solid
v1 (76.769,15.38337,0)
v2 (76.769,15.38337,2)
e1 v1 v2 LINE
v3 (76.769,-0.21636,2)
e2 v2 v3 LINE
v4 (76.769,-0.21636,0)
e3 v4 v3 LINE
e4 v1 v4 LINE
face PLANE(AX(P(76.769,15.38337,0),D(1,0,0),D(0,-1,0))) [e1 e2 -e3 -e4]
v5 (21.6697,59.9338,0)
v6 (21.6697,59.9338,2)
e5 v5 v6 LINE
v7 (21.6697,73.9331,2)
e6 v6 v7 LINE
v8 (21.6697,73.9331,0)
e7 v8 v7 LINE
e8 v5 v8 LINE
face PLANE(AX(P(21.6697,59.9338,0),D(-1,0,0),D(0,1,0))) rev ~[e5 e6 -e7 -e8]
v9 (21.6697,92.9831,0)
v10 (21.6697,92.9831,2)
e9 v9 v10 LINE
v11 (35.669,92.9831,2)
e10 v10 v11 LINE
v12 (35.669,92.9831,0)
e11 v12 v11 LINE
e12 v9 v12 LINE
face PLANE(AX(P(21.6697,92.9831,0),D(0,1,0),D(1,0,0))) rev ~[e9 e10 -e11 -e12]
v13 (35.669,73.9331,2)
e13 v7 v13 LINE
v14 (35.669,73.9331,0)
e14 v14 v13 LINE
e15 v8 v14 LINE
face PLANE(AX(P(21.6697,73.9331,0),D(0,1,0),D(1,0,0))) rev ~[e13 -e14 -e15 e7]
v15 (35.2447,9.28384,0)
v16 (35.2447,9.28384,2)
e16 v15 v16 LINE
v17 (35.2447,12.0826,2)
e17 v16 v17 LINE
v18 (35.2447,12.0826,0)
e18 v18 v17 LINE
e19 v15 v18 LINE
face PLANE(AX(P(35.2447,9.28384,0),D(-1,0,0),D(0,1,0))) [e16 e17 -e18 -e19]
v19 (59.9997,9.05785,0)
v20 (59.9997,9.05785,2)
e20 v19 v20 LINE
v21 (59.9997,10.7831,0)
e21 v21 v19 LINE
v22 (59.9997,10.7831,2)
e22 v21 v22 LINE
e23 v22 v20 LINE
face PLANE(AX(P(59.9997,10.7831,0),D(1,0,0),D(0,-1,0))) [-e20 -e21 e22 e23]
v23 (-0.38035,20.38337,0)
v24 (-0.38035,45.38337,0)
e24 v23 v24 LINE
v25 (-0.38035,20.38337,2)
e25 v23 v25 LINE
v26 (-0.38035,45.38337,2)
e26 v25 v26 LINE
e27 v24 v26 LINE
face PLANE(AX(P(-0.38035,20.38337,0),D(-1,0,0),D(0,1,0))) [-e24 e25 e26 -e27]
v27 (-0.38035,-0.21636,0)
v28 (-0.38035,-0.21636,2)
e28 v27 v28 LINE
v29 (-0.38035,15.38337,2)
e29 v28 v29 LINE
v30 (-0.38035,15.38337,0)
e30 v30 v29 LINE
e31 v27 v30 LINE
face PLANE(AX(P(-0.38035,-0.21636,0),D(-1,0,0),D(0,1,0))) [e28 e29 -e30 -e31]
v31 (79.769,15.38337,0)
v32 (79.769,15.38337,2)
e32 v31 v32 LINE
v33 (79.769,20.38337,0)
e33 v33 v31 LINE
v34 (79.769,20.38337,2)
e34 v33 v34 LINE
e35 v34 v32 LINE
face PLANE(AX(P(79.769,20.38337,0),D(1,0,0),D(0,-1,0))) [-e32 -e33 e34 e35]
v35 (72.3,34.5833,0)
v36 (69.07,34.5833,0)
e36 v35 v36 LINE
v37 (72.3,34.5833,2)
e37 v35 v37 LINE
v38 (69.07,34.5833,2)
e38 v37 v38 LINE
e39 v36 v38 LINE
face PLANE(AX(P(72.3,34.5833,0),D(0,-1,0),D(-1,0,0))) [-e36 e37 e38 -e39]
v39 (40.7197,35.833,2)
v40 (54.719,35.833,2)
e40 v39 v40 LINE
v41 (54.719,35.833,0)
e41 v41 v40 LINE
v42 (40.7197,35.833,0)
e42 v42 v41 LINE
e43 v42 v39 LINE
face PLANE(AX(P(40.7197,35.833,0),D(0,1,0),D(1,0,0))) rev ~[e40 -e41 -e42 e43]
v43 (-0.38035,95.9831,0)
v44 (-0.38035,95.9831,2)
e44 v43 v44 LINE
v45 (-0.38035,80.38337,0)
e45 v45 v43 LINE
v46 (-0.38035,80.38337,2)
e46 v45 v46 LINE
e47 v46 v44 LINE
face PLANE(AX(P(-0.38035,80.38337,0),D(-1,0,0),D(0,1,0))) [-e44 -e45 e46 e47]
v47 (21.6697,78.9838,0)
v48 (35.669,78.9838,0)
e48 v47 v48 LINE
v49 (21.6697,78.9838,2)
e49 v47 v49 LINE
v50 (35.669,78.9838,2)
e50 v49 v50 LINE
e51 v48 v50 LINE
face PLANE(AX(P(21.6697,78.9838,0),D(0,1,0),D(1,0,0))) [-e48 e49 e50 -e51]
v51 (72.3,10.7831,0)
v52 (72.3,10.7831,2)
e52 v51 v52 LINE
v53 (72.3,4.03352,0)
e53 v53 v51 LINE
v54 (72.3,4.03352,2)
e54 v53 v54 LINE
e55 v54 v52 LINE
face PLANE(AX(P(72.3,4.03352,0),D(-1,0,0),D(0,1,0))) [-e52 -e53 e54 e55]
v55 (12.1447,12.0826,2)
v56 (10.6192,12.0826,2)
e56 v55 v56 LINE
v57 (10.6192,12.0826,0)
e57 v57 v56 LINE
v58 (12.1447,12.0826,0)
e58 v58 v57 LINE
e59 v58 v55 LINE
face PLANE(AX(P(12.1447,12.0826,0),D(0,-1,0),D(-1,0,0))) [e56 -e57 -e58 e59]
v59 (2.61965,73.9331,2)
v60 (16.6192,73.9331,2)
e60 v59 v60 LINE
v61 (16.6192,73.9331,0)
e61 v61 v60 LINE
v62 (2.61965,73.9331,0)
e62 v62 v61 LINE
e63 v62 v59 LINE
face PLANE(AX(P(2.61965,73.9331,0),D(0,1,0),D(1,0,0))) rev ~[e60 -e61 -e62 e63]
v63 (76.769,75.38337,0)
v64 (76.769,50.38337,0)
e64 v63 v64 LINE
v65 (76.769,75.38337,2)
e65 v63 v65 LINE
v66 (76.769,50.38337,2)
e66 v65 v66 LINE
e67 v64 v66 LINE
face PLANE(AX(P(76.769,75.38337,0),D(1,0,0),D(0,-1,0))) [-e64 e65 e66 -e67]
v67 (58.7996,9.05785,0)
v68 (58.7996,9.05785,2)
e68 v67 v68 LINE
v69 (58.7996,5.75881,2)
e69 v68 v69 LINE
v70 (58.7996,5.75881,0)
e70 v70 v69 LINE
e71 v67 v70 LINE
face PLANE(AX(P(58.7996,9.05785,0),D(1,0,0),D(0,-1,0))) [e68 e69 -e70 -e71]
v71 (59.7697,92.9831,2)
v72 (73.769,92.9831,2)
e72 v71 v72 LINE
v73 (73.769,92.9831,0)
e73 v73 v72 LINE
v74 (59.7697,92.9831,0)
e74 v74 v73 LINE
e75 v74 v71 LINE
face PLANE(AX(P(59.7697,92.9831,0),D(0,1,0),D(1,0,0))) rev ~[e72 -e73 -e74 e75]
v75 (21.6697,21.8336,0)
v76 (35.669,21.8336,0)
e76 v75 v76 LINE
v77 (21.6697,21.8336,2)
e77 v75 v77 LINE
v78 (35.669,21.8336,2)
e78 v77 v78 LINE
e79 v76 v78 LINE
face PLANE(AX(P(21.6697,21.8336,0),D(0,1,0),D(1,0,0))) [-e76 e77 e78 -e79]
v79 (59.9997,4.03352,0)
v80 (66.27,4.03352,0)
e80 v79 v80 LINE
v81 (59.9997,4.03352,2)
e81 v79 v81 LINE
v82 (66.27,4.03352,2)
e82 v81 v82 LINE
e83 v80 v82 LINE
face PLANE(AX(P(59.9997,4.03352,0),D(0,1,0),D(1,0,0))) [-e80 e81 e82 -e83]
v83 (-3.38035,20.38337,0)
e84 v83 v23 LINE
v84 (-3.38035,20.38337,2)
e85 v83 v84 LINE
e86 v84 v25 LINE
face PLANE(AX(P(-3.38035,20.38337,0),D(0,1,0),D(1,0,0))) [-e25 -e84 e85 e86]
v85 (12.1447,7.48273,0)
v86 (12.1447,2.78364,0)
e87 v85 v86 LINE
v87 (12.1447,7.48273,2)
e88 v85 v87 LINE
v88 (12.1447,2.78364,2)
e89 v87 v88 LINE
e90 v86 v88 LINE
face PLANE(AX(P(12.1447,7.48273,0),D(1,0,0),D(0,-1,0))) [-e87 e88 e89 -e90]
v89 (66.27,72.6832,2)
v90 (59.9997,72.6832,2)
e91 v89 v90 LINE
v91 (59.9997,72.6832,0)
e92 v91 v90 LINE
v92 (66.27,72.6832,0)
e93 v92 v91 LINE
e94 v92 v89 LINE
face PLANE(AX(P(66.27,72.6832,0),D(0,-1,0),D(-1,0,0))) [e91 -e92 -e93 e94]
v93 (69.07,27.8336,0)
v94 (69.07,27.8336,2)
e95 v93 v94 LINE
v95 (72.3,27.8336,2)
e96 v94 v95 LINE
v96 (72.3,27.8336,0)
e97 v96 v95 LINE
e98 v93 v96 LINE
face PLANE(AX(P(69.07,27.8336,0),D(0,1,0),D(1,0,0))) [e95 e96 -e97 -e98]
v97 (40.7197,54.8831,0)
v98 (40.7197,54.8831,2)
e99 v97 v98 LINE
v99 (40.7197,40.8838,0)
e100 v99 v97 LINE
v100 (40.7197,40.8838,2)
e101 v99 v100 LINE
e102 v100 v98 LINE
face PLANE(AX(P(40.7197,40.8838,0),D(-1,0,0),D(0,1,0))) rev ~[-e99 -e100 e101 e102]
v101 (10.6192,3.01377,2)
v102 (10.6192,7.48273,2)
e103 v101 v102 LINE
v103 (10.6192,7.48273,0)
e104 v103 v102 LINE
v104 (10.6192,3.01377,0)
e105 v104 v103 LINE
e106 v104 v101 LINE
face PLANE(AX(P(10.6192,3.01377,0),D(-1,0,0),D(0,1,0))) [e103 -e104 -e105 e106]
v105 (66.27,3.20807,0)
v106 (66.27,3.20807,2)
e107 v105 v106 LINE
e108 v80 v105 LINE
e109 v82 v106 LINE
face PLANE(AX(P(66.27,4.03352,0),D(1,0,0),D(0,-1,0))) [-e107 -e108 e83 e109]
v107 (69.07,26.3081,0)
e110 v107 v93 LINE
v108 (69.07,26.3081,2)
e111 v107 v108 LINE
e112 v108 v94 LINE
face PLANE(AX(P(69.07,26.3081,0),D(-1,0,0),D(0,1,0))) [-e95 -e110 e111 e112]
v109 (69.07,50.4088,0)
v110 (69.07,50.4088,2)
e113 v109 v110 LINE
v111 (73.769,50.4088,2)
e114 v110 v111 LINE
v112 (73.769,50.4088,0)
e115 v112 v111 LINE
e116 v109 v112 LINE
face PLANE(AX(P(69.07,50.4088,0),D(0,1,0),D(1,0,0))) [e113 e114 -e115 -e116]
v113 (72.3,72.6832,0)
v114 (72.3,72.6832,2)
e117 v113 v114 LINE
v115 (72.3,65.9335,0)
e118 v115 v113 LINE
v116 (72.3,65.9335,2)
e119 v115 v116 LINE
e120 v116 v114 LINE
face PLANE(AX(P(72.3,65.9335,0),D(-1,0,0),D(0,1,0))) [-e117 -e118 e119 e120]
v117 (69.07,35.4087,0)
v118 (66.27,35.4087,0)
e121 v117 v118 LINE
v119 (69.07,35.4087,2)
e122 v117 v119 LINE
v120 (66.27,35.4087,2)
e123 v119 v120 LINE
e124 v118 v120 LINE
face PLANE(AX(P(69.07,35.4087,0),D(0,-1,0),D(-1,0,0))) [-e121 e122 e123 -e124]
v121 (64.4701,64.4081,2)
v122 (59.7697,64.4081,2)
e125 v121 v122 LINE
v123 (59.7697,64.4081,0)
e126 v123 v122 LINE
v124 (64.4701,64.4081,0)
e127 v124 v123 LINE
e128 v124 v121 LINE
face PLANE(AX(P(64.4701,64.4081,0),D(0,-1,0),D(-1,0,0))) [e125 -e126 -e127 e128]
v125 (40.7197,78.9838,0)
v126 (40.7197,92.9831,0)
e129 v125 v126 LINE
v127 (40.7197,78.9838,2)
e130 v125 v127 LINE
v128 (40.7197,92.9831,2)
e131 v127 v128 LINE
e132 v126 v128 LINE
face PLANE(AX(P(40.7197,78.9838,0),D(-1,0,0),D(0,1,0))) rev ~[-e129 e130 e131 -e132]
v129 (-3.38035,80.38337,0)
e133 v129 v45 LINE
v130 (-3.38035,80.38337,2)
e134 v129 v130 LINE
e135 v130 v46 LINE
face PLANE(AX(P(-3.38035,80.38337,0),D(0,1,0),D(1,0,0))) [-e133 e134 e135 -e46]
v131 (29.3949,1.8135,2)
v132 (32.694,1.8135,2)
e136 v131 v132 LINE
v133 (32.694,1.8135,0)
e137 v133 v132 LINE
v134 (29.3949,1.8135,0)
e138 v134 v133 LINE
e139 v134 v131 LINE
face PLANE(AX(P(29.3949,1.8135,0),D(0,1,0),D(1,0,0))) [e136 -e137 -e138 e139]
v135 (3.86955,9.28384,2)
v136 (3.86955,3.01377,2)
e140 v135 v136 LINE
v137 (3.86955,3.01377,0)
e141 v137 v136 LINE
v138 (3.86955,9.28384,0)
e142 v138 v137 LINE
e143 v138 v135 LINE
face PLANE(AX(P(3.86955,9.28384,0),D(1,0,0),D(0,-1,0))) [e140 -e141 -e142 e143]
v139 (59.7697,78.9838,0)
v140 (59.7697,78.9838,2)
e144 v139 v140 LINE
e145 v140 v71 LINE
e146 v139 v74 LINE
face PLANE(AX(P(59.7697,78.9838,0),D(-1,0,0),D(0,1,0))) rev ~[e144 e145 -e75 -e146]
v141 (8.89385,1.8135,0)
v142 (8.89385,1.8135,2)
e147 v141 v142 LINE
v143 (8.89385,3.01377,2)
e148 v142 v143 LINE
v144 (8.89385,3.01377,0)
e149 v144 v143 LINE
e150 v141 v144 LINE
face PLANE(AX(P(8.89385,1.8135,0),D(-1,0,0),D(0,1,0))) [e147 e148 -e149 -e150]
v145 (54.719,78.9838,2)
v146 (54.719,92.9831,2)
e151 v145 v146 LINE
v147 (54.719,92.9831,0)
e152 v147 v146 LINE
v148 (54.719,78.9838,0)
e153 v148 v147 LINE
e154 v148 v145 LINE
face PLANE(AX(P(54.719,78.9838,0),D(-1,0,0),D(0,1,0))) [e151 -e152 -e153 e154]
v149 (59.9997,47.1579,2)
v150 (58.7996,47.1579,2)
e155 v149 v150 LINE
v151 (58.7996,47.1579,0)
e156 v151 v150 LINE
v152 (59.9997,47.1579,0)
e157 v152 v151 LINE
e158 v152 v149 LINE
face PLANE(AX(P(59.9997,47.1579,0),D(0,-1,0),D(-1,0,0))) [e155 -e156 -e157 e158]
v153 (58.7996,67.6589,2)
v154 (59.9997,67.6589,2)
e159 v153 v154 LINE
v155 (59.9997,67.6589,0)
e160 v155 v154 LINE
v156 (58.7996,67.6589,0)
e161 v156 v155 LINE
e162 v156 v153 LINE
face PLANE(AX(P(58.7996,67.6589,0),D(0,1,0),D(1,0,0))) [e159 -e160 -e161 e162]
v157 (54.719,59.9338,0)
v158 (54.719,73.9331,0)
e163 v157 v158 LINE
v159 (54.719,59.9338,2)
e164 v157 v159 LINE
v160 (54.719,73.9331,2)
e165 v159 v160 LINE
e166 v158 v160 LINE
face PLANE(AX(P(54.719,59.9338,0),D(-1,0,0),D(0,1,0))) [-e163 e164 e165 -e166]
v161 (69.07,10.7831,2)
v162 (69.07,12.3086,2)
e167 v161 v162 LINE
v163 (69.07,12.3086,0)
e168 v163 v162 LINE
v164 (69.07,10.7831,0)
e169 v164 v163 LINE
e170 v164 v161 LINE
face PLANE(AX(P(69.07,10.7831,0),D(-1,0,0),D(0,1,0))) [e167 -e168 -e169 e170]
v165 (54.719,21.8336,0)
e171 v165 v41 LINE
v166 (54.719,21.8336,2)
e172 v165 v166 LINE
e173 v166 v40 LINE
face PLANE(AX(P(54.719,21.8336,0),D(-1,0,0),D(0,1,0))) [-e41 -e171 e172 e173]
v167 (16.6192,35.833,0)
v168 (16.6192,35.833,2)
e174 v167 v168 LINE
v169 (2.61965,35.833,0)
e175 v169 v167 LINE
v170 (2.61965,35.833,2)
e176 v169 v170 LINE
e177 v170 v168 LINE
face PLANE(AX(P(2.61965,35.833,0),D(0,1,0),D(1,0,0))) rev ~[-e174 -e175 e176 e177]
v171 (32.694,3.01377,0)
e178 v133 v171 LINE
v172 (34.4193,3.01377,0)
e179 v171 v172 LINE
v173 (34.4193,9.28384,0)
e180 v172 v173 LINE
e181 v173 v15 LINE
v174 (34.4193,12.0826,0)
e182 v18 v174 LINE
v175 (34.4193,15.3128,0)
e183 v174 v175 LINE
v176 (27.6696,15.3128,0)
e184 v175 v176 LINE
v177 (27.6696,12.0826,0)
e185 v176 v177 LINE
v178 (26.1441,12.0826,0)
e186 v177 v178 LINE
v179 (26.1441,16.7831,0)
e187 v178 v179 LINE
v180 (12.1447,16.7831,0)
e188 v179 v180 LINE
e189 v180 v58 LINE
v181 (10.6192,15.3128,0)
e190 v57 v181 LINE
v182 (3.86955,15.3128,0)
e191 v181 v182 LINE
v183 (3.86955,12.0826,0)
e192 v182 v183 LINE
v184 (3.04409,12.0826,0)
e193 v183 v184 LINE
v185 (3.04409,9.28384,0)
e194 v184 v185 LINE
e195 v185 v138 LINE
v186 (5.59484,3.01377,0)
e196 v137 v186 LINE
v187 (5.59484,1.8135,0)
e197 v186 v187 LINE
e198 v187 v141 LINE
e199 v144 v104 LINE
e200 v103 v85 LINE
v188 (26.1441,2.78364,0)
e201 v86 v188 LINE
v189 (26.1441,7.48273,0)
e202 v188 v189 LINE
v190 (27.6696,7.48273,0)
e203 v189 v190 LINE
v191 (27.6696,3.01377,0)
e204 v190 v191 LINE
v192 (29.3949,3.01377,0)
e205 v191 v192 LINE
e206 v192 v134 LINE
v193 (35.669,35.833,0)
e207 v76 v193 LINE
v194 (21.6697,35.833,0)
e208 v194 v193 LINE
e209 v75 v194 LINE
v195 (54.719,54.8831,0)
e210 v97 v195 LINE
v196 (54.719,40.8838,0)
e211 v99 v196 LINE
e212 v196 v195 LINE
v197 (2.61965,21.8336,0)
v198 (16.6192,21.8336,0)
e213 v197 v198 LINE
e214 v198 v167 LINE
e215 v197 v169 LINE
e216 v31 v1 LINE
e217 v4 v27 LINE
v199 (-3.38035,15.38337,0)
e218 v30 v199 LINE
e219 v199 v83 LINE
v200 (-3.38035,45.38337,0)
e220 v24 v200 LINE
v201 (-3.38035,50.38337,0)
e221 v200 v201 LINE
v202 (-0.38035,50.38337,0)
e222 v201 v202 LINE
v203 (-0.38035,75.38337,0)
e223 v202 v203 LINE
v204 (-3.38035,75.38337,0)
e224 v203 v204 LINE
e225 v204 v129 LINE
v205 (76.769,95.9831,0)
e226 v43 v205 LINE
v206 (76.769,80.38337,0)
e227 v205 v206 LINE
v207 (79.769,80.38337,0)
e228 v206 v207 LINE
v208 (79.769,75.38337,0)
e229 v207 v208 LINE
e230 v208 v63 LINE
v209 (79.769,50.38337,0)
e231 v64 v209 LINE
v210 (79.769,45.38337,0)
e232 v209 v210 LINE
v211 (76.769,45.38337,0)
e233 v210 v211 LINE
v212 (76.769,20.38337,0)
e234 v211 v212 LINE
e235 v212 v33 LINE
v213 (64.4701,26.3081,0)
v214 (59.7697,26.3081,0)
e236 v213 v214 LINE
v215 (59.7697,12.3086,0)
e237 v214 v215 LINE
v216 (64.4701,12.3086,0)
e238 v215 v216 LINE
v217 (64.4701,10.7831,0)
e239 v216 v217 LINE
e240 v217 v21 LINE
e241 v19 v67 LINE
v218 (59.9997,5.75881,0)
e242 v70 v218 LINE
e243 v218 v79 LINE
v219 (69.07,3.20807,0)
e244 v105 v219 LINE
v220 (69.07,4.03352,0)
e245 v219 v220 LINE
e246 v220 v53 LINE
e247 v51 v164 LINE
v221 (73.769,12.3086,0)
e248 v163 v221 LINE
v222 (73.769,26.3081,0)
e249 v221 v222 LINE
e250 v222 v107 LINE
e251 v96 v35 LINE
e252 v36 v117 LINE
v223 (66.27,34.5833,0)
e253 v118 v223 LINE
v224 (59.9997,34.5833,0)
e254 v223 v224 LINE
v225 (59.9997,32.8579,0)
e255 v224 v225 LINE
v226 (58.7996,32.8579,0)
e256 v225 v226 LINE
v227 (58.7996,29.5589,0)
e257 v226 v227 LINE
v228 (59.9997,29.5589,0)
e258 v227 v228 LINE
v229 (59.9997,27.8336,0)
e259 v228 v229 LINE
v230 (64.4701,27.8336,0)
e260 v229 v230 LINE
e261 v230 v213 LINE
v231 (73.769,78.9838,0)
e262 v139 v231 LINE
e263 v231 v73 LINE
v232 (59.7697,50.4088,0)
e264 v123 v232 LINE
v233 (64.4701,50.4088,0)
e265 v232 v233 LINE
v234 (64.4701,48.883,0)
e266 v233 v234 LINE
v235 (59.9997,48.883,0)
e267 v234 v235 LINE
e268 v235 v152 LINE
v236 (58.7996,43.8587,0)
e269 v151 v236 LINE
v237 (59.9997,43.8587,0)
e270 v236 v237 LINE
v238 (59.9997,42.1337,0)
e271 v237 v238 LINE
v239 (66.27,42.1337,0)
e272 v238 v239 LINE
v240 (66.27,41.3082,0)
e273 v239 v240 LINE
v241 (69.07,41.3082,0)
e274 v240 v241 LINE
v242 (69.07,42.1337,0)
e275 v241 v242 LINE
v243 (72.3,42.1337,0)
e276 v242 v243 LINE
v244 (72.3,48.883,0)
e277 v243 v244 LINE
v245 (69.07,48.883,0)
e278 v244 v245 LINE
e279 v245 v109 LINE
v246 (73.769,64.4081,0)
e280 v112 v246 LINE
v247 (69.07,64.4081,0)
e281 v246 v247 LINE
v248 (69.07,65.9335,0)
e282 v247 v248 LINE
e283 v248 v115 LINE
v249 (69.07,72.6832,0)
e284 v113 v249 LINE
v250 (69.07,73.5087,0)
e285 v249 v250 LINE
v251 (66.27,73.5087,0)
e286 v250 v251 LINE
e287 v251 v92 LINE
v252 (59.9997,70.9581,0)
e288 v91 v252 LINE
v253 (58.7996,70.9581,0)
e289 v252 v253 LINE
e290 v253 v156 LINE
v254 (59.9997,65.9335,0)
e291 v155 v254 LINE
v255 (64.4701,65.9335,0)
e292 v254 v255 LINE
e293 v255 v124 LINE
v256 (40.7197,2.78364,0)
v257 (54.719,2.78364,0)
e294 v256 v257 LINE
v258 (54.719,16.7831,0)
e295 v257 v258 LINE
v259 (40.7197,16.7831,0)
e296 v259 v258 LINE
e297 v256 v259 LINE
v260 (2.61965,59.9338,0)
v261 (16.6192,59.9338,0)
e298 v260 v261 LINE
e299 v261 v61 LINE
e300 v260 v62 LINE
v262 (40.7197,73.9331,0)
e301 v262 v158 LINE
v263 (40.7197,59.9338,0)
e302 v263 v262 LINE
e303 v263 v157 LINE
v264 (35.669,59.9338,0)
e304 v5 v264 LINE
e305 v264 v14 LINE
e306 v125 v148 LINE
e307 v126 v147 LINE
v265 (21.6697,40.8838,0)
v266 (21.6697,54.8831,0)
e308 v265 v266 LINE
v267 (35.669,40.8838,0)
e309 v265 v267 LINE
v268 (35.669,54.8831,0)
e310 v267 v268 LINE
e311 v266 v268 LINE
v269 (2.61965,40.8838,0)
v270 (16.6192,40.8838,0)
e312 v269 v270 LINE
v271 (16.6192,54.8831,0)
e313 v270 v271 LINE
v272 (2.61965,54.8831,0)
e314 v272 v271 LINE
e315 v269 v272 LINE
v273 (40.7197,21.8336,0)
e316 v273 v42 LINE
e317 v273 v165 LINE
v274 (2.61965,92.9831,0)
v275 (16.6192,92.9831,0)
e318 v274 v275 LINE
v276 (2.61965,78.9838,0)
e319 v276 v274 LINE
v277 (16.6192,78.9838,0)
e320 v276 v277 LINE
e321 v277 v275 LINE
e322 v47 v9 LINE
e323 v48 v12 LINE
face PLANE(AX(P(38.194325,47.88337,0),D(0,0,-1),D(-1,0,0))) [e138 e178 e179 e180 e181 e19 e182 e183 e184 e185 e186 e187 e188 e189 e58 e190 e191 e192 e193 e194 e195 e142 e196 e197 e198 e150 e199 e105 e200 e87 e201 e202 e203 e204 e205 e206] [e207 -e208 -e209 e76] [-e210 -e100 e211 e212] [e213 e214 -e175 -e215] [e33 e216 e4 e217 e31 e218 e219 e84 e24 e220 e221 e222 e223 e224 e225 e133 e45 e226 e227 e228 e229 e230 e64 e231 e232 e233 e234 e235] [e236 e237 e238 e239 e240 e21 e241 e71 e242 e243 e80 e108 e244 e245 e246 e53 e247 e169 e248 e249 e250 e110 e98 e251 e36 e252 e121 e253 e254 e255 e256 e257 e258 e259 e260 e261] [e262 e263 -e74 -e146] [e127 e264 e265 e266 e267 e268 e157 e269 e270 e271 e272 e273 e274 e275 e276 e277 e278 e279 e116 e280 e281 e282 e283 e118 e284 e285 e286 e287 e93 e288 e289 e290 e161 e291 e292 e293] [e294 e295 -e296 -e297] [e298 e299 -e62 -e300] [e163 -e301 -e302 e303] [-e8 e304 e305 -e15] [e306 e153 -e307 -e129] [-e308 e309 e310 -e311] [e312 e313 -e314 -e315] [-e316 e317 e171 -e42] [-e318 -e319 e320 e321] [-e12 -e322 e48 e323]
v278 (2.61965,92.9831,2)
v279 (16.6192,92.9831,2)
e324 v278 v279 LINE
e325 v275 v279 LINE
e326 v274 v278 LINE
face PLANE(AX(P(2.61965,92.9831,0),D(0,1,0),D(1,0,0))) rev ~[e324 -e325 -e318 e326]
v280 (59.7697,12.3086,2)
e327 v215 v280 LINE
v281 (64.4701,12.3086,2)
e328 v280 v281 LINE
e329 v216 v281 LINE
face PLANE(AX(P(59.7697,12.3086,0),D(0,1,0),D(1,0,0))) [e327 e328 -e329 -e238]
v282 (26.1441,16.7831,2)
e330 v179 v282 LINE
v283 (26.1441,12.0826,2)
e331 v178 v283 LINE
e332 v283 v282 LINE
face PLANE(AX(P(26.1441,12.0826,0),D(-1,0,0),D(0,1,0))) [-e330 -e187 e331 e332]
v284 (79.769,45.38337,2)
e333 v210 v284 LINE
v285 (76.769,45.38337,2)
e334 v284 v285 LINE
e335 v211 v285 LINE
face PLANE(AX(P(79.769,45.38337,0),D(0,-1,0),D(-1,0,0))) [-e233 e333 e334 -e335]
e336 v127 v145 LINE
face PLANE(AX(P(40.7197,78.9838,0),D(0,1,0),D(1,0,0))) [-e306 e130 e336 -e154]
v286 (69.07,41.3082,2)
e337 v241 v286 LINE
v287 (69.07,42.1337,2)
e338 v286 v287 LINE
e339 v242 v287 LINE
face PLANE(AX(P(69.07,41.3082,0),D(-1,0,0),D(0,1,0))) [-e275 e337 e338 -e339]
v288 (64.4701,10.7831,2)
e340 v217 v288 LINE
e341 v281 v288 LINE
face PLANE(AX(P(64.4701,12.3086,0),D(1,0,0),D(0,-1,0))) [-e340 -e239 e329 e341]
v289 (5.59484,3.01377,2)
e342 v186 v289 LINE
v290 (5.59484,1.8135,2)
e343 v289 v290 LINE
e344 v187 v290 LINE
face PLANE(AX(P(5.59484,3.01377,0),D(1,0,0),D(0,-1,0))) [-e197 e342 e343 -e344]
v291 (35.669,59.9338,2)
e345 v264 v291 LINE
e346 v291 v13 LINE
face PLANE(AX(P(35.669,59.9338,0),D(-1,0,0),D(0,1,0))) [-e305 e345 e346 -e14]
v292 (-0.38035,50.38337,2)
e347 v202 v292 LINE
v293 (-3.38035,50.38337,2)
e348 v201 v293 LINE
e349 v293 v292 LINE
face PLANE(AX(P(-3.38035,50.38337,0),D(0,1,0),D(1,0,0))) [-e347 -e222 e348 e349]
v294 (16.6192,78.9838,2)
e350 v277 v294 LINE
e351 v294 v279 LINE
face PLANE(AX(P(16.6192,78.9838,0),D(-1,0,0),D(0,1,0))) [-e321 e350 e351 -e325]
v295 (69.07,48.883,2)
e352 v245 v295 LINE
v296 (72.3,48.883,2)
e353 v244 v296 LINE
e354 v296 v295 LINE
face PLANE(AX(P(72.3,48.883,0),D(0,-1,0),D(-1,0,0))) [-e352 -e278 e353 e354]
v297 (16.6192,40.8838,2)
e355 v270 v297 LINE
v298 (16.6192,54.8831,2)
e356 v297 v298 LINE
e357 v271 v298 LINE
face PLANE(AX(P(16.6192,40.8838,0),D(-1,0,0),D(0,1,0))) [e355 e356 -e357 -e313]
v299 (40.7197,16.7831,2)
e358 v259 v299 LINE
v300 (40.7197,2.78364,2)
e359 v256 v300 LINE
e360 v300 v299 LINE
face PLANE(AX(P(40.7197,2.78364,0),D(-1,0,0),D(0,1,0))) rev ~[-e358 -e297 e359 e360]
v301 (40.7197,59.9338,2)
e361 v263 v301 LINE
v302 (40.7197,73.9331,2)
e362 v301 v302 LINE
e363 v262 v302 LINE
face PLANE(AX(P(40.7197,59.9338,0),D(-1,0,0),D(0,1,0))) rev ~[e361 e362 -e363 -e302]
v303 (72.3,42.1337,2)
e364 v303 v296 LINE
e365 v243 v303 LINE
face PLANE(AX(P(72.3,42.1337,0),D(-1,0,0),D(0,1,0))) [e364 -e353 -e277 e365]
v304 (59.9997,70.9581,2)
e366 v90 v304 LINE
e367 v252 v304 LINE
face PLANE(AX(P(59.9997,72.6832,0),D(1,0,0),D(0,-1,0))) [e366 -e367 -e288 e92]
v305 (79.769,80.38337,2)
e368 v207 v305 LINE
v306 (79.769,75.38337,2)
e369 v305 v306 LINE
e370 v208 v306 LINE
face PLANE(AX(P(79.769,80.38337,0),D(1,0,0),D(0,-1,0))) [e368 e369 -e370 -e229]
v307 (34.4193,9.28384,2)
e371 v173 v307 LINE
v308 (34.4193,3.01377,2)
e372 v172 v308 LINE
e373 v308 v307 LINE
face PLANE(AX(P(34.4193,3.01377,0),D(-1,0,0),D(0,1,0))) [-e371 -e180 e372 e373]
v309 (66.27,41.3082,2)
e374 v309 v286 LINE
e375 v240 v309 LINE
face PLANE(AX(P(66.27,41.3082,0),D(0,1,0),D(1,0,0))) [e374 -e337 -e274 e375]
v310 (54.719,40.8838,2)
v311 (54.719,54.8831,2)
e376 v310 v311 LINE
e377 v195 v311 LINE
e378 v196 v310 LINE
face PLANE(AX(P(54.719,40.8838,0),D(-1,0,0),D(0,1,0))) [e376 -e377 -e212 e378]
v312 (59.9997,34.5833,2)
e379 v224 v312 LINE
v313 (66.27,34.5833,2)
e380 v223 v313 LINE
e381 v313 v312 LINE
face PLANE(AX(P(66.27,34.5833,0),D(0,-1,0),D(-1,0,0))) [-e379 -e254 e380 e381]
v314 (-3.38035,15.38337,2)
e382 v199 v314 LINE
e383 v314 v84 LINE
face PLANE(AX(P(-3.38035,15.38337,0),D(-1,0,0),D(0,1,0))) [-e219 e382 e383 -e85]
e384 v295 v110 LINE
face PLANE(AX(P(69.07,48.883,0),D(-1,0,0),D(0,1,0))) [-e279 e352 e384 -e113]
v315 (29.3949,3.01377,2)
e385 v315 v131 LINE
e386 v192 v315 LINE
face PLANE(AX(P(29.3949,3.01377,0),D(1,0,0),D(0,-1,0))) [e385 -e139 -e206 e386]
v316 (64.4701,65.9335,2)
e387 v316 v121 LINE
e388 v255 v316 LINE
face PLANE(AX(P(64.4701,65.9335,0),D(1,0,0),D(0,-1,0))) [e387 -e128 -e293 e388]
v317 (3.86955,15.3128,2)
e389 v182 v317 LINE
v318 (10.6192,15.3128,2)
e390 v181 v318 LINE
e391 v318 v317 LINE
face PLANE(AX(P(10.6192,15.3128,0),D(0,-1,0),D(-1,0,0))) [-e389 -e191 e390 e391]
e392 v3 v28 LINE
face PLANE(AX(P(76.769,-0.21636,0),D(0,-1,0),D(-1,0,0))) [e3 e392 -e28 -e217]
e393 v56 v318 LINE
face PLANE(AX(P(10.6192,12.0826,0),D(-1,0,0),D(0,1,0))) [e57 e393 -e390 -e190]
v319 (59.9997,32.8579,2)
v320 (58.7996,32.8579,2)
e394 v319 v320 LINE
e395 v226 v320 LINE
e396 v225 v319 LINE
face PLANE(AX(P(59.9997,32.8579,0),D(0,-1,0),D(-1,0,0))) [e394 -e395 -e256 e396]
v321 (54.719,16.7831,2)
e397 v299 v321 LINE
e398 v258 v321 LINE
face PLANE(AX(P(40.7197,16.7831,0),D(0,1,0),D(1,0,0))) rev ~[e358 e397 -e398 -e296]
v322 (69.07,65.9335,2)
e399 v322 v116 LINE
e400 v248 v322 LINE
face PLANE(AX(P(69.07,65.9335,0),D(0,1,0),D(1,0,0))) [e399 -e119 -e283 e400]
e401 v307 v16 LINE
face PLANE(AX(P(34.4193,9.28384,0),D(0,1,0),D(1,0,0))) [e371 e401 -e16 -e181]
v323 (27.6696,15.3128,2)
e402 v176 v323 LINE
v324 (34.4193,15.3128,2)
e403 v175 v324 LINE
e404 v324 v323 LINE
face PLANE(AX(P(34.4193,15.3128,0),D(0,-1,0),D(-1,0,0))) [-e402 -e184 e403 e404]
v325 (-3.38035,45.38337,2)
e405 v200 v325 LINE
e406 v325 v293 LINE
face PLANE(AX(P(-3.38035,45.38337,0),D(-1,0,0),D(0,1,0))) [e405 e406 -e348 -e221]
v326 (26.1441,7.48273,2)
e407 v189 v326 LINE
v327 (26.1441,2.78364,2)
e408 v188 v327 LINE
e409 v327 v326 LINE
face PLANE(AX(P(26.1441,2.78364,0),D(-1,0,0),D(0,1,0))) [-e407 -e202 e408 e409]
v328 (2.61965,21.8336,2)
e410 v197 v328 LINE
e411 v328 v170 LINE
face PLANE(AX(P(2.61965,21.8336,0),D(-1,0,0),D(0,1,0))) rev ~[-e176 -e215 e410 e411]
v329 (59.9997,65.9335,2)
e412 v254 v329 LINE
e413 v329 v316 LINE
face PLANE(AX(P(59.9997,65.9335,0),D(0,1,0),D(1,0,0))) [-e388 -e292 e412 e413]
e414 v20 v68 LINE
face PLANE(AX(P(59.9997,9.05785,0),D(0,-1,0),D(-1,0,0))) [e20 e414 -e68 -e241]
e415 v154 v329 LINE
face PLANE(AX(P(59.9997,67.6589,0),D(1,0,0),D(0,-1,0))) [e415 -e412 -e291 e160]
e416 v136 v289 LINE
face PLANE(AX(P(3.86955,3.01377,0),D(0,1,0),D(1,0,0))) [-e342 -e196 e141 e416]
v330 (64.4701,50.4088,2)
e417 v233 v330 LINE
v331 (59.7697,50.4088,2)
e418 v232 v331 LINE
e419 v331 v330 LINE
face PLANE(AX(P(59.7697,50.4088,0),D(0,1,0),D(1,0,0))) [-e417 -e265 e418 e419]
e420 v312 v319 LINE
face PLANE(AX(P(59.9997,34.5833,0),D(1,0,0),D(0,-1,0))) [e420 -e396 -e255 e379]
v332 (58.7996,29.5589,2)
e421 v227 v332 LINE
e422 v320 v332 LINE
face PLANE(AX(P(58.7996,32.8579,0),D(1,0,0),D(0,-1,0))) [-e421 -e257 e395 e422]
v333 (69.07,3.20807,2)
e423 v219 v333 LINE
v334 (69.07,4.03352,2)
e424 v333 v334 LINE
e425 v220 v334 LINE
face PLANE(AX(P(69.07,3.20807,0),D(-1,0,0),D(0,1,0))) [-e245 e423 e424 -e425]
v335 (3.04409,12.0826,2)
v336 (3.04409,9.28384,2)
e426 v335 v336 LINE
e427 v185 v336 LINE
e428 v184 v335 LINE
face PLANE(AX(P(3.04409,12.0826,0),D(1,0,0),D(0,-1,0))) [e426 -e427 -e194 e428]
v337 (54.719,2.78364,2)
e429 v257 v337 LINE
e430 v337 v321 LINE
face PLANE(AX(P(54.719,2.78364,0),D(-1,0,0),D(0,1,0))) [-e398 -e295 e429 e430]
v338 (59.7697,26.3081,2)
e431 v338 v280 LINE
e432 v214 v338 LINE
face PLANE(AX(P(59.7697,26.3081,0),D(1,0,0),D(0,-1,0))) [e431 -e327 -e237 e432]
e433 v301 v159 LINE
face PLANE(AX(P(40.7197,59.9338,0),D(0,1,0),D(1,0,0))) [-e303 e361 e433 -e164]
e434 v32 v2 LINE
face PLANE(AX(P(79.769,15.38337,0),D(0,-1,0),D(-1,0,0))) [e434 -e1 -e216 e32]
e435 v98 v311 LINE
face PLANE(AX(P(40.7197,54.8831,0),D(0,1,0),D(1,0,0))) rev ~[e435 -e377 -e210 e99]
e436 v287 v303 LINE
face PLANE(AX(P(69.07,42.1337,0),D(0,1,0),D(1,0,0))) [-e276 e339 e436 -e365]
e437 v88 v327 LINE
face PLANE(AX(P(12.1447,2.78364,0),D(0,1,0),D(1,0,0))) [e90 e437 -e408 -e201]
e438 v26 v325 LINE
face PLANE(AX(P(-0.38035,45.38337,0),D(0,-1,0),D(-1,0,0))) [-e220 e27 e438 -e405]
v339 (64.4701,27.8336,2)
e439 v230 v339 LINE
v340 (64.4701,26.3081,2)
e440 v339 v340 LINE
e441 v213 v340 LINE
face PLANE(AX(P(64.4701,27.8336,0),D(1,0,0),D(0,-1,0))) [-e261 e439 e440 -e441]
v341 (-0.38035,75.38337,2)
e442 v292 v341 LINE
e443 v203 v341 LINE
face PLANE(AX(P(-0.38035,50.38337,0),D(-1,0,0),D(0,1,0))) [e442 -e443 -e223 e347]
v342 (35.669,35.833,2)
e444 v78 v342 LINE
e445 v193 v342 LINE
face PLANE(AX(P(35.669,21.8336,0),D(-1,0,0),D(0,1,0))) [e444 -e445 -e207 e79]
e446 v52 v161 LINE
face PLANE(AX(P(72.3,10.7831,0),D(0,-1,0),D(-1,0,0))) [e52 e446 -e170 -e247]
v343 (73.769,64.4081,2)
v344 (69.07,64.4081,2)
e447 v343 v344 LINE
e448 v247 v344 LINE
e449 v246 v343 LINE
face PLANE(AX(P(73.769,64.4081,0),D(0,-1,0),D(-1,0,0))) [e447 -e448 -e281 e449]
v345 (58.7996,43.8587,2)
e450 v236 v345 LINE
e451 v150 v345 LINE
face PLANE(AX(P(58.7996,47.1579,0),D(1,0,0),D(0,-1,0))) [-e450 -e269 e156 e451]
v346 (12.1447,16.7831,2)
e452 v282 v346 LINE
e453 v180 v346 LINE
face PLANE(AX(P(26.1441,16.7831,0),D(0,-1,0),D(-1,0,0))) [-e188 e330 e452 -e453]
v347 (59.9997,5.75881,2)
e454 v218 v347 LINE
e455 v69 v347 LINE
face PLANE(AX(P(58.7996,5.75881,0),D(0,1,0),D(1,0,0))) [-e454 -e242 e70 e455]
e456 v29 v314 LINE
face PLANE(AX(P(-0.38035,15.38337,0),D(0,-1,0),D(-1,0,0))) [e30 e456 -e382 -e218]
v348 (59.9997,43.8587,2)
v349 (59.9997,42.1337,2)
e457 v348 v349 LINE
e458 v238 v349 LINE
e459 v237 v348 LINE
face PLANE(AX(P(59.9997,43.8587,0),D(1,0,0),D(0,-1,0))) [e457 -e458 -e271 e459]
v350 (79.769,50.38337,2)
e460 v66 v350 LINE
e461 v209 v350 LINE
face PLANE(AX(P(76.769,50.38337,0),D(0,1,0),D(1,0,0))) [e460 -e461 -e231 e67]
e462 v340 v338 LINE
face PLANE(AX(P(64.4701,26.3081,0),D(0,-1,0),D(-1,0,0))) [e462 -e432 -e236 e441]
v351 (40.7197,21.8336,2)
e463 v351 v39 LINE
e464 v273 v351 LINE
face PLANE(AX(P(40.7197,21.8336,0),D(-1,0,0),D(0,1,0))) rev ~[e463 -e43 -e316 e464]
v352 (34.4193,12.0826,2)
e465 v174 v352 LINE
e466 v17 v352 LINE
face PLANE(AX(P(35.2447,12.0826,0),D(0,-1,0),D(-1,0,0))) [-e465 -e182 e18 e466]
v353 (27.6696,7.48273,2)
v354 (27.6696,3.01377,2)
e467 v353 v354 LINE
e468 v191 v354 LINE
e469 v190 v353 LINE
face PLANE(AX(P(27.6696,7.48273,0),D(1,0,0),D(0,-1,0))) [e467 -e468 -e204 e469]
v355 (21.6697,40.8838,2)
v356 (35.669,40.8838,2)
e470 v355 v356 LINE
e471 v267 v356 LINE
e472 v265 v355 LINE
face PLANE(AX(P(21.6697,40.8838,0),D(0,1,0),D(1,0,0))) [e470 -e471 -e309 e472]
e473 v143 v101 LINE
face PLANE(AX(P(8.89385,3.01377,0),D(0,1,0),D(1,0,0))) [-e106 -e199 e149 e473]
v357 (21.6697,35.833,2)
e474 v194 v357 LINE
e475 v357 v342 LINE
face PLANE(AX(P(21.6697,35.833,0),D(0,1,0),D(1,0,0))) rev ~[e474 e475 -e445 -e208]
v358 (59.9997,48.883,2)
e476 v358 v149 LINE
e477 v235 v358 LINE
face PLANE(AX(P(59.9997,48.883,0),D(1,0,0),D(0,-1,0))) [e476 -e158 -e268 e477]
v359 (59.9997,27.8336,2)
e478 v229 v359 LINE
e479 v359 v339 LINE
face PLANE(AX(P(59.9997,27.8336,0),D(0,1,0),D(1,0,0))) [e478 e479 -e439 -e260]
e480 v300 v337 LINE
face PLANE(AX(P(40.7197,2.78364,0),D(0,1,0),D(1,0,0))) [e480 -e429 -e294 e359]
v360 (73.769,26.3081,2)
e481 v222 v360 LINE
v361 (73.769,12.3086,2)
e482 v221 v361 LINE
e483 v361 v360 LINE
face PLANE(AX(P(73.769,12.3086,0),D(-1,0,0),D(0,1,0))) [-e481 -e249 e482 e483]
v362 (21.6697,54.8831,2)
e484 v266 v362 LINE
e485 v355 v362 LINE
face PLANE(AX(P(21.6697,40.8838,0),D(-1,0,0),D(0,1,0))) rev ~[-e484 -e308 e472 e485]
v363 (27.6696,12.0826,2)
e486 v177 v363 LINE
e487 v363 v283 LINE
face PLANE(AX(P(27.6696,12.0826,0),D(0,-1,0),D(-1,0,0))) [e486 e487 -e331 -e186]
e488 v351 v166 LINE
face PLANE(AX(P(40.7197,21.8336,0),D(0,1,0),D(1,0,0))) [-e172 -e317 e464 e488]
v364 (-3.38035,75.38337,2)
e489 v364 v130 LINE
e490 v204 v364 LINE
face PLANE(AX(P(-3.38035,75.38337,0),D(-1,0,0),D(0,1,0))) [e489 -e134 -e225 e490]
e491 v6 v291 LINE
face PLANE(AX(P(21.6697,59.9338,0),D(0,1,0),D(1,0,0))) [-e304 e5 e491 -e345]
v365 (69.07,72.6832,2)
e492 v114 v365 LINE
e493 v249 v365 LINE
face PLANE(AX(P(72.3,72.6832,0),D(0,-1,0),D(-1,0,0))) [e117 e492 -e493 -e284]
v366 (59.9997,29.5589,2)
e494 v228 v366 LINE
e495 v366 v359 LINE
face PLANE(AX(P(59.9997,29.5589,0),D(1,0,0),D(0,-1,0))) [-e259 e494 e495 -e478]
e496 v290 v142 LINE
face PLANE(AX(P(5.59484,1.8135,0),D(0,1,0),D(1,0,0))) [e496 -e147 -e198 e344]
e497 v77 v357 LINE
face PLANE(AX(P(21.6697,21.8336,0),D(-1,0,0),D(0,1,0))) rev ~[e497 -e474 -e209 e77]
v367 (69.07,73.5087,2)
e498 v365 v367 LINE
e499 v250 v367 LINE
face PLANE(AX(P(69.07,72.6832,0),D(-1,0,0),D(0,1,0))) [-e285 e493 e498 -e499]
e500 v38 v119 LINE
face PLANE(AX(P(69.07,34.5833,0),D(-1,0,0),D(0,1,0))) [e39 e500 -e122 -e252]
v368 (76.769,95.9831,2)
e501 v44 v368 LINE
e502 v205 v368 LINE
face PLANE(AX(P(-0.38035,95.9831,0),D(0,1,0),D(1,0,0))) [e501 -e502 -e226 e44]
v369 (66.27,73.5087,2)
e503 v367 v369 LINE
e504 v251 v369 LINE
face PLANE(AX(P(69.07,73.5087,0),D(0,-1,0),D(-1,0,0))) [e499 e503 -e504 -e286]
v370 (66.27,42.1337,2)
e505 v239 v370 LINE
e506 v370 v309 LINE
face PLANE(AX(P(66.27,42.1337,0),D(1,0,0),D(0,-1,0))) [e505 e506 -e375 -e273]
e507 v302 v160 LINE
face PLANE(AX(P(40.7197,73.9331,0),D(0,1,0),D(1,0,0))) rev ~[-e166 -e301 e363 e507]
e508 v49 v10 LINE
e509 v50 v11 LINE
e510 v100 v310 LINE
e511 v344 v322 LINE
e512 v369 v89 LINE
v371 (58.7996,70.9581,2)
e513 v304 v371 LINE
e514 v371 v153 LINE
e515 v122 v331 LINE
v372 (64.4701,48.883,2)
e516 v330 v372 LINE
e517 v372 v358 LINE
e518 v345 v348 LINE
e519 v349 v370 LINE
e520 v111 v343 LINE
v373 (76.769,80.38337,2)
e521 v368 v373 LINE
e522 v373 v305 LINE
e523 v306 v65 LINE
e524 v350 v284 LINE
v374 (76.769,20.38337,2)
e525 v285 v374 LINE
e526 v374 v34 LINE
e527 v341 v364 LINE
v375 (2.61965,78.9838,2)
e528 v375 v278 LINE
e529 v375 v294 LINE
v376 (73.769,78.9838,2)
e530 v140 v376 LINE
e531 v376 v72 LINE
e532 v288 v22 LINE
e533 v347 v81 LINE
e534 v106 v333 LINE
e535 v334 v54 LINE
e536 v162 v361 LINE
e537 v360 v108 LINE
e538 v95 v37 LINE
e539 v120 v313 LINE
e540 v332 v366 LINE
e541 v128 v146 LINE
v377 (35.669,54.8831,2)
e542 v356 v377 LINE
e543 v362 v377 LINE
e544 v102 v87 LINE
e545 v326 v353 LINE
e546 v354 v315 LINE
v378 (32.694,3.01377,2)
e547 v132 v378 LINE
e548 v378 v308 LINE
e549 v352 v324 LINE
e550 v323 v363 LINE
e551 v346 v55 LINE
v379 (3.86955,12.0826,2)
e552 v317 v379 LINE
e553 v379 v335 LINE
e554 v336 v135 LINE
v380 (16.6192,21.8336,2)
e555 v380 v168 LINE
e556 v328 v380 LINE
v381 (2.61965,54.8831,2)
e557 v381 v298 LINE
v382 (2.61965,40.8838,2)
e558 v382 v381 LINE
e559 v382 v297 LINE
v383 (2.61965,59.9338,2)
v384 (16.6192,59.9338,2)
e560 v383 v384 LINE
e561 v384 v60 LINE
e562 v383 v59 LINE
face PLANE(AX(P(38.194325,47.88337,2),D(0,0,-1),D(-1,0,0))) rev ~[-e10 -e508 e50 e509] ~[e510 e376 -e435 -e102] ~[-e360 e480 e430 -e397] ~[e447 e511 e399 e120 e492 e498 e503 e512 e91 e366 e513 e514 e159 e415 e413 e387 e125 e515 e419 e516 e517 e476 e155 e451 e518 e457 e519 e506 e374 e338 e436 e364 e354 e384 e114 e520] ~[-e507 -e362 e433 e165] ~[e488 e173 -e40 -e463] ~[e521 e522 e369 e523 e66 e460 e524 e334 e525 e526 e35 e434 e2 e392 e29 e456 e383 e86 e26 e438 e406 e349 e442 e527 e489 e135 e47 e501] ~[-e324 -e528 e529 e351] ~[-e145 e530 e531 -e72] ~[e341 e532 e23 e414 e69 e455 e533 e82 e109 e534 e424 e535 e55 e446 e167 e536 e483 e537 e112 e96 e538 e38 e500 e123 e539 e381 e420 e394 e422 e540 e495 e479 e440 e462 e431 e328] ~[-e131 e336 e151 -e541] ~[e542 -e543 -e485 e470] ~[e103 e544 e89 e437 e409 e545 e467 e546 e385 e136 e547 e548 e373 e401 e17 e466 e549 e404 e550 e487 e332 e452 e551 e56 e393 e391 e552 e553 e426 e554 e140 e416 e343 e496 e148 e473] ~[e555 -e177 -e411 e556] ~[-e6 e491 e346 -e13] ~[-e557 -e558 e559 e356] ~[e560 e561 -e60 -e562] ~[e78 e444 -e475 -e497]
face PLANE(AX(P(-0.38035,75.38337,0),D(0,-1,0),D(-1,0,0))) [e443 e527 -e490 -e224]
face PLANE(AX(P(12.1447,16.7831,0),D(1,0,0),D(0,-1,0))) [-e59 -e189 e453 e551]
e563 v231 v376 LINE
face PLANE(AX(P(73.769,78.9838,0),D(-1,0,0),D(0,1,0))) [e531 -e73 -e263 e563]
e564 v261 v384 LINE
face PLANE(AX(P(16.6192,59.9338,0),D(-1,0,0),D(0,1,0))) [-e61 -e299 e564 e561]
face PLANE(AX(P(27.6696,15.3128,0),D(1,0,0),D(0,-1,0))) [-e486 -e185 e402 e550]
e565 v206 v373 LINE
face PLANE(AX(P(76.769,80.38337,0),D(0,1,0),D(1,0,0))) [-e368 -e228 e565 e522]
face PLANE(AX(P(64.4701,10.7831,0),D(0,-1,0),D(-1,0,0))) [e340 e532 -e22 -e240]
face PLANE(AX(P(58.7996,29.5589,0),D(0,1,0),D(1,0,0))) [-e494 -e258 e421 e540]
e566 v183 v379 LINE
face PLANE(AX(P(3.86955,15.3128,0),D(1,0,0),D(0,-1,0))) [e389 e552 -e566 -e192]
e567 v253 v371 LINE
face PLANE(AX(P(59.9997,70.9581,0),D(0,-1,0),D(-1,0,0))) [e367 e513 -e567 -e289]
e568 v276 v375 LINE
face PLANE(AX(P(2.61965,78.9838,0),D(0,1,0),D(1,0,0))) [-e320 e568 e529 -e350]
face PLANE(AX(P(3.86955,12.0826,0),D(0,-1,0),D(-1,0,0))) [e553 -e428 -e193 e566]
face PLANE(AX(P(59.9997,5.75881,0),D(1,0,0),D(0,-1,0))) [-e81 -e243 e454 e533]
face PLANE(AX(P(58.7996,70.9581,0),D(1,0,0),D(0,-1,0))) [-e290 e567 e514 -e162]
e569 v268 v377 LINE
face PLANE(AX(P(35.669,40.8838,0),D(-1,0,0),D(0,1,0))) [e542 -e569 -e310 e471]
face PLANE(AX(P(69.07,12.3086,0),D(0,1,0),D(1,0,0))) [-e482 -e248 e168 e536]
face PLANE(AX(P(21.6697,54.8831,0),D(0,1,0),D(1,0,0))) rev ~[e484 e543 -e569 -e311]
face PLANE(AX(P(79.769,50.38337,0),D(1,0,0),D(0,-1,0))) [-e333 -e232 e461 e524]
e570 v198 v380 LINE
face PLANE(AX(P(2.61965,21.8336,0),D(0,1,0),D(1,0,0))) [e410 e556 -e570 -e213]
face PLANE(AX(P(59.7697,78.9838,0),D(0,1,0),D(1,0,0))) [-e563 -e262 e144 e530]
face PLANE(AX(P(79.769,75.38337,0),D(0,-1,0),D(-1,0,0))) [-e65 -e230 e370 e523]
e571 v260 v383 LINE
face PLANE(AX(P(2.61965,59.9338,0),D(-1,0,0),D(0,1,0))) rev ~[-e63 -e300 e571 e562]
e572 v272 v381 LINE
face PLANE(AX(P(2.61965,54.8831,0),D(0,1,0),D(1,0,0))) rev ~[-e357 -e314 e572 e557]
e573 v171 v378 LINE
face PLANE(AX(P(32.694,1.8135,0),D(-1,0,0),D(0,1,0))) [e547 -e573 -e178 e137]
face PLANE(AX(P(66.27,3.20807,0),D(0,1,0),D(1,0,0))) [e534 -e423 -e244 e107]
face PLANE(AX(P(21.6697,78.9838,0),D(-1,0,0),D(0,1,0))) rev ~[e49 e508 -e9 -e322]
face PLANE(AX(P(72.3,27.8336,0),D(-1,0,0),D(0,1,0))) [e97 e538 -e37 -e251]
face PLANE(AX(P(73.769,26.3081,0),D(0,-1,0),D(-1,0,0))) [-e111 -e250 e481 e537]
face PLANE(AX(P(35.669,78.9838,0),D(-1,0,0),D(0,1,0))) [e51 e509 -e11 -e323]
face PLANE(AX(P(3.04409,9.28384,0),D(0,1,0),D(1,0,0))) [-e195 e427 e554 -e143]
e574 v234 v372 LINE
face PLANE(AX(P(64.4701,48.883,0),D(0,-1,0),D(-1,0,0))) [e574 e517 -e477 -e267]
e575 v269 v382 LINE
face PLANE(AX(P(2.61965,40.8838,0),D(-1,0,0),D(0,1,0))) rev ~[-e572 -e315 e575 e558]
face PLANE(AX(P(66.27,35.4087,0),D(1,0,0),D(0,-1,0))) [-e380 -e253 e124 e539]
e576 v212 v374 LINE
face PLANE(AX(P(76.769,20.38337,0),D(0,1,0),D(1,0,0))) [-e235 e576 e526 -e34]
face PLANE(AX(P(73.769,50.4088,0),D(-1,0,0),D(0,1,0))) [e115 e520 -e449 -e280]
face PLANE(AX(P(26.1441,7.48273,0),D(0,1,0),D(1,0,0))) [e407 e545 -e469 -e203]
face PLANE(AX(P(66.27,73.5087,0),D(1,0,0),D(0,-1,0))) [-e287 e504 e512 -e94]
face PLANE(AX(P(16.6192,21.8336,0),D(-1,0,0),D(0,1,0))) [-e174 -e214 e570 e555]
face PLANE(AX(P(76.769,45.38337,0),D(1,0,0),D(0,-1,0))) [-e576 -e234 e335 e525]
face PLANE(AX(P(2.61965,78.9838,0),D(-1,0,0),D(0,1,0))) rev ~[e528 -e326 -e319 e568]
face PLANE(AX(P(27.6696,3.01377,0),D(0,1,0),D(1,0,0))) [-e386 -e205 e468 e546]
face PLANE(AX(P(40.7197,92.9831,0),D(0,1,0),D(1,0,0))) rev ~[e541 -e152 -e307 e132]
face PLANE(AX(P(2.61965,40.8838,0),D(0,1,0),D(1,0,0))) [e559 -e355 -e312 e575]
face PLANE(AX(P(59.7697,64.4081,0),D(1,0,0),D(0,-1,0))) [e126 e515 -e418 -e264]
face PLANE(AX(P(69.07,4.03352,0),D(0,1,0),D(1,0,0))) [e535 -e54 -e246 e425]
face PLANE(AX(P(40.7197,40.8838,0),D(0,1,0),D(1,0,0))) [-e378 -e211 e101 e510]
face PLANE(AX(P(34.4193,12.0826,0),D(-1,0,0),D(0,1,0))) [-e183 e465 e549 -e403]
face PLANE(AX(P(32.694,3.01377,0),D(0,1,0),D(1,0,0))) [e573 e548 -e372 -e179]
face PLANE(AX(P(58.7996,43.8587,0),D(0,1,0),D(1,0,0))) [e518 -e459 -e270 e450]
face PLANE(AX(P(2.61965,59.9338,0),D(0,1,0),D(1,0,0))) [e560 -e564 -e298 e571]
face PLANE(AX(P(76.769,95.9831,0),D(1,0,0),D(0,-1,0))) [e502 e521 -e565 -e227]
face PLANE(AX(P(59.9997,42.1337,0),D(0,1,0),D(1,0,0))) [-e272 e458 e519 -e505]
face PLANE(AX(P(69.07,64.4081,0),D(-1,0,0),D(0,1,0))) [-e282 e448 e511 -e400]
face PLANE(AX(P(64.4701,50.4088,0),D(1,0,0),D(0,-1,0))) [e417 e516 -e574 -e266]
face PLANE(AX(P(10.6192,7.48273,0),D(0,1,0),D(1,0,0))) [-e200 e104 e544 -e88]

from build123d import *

# Parameters (mm, degrees)
MODEL_W         = 13.9993
MODEL_H         = 13.99946
MODEL_W_2       = 13.99955
MODEL_H_2       = 13.9994
MODEL_H_3       = 13.9993
EXTRUDE_1_DEPTH = 2


with BuildPart() as part:
    # Model → 凸台-拉伸1 (new body)
    with BuildSketch(Plane.XY):
        Polygon((-0.38035, 95.9831), (76.769, 95.9831), (76.769, 80.38337), (79.769, 80.38337), (79.769, 75.38337), (76.769, 75.38337), (76.769, 50.38337), (79.769, 50.38337), (79.769, 45.38337), (76.769, 45.38337), (76.769, 20.38337), (79.769, 20.38337), (79.769, 15.38337), (76.769, 15.38337), (76.769, -0.21636), (-0.38035, -0.21636), (-0.38035, 15.38337), (-3.38035, 15.38337), (-3.38035, 20.38337), (-0.38035, 20.38337), (-0.38035, 45.38337), (-3.38035, 45.38337), (-3.38035, 50.38337), (-0.38035, 50.38337), (-0.38035, 75.38337), (-3.38035, 75.38337), (-3.38035, 80.38337), (-0.38035, 80.38337), align=None)
        Polygon((12.1447, 16.7831), (12.1447, 12.0826), (10.6192, 12.0826), (10.6192, 15.3128), (3.86955, 15.3128), (3.86955, 12.0826), (3.04409, 12.0826), (3.04409, 9.28384), (3.86955, 9.28384), (3.86955, 3.01377), (5.59484, 3.01377), (5.59484, 1.8135), (8.89385, 1.8135), (8.89385, 3.01377), (10.6192, 3.01377), (10.6192, 7.48273), (12.1447, 7.48273), (12.1447, 2.78364), (26.1441, 2.78364), (26.1441, 7.48273), (27.6696, 7.48273), (27.6696, 3.01377), (29.3949, 3.01377), (29.3949, 1.8135), (32.694, 1.8135), (32.694, 3.01377), (34.4193, 3.01377), (34.4193, 9.28384), (35.2447, 9.28384), (35.2447, 12.0826), (34.4193, 12.0826), (34.4193, 15.3128), (27.6696, 15.3128), (27.6696, 12.0826), (26.1441, 12.0826), (26.1441, 16.7831), align=None, mode=Mode.SUBTRACT)
        with Locations((47.71935, 9.78337)):
            Rectangle(MODEL_W, MODEL_H, mode=Mode.SUBTRACT)
        Polygon((66.27, 35.4087), (66.27, 34.5833), (59.9997, 34.5833), (59.9997, 32.8579), (58.7996, 32.8579), (58.7996, 29.5589), (59.9997, 29.5589), (59.9997, 27.8336), (64.4701, 27.8336), (64.4701, 26.3081), (59.7697, 26.3081), (59.7697, 12.3086), (64.4701, 12.3086), (64.4701, 10.7831), (59.9997, 10.7831), (59.9997, 9.05785), (58.7996, 9.05785), (58.7996, 5.75881), (59.9997, 5.75881), (59.9997, 4.03352), (66.27, 4.03352), (66.27, 3.20807), (69.07, 3.20807), (69.07, 4.03352), (72.3, 4.03352), (72.3, 10.7831), (69.07, 10.7831), (69.07, 12.3086), (73.769, 12.3086), (73.769, 26.3081), (69.07, 26.3081), (69.07, 27.8336), (72.3, 27.8336), (72.3, 34.5833), (69.07, 34.5833), (69.07, 35.4087), align=None, mode=Mode.SUBTRACT)
        with Locations((9.619425, 28.8333)):
            Rectangle(MODEL_W_2, MODEL_H_2, mode=Mode.SUBTRACT)
        with Locations((28.66935, 28.8333)):
            Rectangle(MODEL_W, MODEL_H_2, mode=Mode.SUBTRACT)
        with Locations((47.71935, 28.8333)):
            Rectangle(MODEL_W, MODEL_H_2, mode=Mode.SUBTRACT)
        with Locations((9.619425, 47.88345)):
            Rectangle(MODEL_W_2, MODEL_H_3, mode=Mode.SUBTRACT)
        with Locations((28.66935, 47.88345)):
            Rectangle(MODEL_W, MODEL_H_3, mode=Mode.SUBTRACT)
        with Locations((47.71935, 47.88345)):
            Rectangle(MODEL_W, MODEL_H_3, mode=Mode.SUBTRACT)
        Polygon((66.27, 73.5087), (66.27, 72.6832), (59.9997, 72.6832), (59.9997, 70.9581), (58.7996, 70.9581), (58.7996, 67.6589), (59.9997, 67.6589), (59.9997, 65.9335), (64.4701, 65.9335), (64.4701, 64.4081), (59.7697, 64.4081), (59.7697, 50.4088), (64.4701, 50.4088), (64.4701, 48.883), (59.9997, 48.883), (59.9997, 47.1579), (58.7996, 47.1579), (58.7996, 43.8587), (59.9997, 43.8587), (59.9997, 42.1337), (66.27, 42.1337), (66.27, 41.3082), (69.07, 41.3082), (69.07, 42.1337), (72.3, 42.1337), (72.3, 48.883), (69.07, 48.883), (69.07, 50.4088), (73.769, 50.4088), (73.769, 64.4081), (69.07, 64.4081), (69.07, 65.9335), (72.3, 65.9335), (72.3, 72.6832), (69.07, 72.6832), (69.07, 73.5087), align=None, mode=Mode.SUBTRACT)
        with Locations((9.619425, 66.93345)):
            Rectangle(MODEL_W_2, MODEL_H_3, mode=Mode.SUBTRACT)
        with Locations((28.66935, 66.93345)):
            Rectangle(MODEL_W, MODEL_H_3, mode=Mode.SUBTRACT)
        with Locations((47.71935, 66.93345)):
            Rectangle(MODEL_W, MODEL_H_3, mode=Mode.SUBTRACT)
        with Locations((9.619425, 85.98345)):
            Rectangle(MODEL_W_2, MODEL_H_3, mode=Mode.SUBTRACT)
        with Locations((28.66935, 85.98345)):
            Rectangle(MODEL_W, MODEL_H_3, mode=Mode.SUBTRACT)
        with Locations((47.71935, 85.98345)):
            Rectangle(MODEL_W, MODEL_H_3, mode=Mode.SUBTRACT)
        with Locations((66.76935, 85.98345)):
            Rectangle(MODEL_W, MODEL_H_3, mode=Mode.SUBTRACT)
    extrude(amount=EXTRUDE_1_DEPTH)


solid = part.part
